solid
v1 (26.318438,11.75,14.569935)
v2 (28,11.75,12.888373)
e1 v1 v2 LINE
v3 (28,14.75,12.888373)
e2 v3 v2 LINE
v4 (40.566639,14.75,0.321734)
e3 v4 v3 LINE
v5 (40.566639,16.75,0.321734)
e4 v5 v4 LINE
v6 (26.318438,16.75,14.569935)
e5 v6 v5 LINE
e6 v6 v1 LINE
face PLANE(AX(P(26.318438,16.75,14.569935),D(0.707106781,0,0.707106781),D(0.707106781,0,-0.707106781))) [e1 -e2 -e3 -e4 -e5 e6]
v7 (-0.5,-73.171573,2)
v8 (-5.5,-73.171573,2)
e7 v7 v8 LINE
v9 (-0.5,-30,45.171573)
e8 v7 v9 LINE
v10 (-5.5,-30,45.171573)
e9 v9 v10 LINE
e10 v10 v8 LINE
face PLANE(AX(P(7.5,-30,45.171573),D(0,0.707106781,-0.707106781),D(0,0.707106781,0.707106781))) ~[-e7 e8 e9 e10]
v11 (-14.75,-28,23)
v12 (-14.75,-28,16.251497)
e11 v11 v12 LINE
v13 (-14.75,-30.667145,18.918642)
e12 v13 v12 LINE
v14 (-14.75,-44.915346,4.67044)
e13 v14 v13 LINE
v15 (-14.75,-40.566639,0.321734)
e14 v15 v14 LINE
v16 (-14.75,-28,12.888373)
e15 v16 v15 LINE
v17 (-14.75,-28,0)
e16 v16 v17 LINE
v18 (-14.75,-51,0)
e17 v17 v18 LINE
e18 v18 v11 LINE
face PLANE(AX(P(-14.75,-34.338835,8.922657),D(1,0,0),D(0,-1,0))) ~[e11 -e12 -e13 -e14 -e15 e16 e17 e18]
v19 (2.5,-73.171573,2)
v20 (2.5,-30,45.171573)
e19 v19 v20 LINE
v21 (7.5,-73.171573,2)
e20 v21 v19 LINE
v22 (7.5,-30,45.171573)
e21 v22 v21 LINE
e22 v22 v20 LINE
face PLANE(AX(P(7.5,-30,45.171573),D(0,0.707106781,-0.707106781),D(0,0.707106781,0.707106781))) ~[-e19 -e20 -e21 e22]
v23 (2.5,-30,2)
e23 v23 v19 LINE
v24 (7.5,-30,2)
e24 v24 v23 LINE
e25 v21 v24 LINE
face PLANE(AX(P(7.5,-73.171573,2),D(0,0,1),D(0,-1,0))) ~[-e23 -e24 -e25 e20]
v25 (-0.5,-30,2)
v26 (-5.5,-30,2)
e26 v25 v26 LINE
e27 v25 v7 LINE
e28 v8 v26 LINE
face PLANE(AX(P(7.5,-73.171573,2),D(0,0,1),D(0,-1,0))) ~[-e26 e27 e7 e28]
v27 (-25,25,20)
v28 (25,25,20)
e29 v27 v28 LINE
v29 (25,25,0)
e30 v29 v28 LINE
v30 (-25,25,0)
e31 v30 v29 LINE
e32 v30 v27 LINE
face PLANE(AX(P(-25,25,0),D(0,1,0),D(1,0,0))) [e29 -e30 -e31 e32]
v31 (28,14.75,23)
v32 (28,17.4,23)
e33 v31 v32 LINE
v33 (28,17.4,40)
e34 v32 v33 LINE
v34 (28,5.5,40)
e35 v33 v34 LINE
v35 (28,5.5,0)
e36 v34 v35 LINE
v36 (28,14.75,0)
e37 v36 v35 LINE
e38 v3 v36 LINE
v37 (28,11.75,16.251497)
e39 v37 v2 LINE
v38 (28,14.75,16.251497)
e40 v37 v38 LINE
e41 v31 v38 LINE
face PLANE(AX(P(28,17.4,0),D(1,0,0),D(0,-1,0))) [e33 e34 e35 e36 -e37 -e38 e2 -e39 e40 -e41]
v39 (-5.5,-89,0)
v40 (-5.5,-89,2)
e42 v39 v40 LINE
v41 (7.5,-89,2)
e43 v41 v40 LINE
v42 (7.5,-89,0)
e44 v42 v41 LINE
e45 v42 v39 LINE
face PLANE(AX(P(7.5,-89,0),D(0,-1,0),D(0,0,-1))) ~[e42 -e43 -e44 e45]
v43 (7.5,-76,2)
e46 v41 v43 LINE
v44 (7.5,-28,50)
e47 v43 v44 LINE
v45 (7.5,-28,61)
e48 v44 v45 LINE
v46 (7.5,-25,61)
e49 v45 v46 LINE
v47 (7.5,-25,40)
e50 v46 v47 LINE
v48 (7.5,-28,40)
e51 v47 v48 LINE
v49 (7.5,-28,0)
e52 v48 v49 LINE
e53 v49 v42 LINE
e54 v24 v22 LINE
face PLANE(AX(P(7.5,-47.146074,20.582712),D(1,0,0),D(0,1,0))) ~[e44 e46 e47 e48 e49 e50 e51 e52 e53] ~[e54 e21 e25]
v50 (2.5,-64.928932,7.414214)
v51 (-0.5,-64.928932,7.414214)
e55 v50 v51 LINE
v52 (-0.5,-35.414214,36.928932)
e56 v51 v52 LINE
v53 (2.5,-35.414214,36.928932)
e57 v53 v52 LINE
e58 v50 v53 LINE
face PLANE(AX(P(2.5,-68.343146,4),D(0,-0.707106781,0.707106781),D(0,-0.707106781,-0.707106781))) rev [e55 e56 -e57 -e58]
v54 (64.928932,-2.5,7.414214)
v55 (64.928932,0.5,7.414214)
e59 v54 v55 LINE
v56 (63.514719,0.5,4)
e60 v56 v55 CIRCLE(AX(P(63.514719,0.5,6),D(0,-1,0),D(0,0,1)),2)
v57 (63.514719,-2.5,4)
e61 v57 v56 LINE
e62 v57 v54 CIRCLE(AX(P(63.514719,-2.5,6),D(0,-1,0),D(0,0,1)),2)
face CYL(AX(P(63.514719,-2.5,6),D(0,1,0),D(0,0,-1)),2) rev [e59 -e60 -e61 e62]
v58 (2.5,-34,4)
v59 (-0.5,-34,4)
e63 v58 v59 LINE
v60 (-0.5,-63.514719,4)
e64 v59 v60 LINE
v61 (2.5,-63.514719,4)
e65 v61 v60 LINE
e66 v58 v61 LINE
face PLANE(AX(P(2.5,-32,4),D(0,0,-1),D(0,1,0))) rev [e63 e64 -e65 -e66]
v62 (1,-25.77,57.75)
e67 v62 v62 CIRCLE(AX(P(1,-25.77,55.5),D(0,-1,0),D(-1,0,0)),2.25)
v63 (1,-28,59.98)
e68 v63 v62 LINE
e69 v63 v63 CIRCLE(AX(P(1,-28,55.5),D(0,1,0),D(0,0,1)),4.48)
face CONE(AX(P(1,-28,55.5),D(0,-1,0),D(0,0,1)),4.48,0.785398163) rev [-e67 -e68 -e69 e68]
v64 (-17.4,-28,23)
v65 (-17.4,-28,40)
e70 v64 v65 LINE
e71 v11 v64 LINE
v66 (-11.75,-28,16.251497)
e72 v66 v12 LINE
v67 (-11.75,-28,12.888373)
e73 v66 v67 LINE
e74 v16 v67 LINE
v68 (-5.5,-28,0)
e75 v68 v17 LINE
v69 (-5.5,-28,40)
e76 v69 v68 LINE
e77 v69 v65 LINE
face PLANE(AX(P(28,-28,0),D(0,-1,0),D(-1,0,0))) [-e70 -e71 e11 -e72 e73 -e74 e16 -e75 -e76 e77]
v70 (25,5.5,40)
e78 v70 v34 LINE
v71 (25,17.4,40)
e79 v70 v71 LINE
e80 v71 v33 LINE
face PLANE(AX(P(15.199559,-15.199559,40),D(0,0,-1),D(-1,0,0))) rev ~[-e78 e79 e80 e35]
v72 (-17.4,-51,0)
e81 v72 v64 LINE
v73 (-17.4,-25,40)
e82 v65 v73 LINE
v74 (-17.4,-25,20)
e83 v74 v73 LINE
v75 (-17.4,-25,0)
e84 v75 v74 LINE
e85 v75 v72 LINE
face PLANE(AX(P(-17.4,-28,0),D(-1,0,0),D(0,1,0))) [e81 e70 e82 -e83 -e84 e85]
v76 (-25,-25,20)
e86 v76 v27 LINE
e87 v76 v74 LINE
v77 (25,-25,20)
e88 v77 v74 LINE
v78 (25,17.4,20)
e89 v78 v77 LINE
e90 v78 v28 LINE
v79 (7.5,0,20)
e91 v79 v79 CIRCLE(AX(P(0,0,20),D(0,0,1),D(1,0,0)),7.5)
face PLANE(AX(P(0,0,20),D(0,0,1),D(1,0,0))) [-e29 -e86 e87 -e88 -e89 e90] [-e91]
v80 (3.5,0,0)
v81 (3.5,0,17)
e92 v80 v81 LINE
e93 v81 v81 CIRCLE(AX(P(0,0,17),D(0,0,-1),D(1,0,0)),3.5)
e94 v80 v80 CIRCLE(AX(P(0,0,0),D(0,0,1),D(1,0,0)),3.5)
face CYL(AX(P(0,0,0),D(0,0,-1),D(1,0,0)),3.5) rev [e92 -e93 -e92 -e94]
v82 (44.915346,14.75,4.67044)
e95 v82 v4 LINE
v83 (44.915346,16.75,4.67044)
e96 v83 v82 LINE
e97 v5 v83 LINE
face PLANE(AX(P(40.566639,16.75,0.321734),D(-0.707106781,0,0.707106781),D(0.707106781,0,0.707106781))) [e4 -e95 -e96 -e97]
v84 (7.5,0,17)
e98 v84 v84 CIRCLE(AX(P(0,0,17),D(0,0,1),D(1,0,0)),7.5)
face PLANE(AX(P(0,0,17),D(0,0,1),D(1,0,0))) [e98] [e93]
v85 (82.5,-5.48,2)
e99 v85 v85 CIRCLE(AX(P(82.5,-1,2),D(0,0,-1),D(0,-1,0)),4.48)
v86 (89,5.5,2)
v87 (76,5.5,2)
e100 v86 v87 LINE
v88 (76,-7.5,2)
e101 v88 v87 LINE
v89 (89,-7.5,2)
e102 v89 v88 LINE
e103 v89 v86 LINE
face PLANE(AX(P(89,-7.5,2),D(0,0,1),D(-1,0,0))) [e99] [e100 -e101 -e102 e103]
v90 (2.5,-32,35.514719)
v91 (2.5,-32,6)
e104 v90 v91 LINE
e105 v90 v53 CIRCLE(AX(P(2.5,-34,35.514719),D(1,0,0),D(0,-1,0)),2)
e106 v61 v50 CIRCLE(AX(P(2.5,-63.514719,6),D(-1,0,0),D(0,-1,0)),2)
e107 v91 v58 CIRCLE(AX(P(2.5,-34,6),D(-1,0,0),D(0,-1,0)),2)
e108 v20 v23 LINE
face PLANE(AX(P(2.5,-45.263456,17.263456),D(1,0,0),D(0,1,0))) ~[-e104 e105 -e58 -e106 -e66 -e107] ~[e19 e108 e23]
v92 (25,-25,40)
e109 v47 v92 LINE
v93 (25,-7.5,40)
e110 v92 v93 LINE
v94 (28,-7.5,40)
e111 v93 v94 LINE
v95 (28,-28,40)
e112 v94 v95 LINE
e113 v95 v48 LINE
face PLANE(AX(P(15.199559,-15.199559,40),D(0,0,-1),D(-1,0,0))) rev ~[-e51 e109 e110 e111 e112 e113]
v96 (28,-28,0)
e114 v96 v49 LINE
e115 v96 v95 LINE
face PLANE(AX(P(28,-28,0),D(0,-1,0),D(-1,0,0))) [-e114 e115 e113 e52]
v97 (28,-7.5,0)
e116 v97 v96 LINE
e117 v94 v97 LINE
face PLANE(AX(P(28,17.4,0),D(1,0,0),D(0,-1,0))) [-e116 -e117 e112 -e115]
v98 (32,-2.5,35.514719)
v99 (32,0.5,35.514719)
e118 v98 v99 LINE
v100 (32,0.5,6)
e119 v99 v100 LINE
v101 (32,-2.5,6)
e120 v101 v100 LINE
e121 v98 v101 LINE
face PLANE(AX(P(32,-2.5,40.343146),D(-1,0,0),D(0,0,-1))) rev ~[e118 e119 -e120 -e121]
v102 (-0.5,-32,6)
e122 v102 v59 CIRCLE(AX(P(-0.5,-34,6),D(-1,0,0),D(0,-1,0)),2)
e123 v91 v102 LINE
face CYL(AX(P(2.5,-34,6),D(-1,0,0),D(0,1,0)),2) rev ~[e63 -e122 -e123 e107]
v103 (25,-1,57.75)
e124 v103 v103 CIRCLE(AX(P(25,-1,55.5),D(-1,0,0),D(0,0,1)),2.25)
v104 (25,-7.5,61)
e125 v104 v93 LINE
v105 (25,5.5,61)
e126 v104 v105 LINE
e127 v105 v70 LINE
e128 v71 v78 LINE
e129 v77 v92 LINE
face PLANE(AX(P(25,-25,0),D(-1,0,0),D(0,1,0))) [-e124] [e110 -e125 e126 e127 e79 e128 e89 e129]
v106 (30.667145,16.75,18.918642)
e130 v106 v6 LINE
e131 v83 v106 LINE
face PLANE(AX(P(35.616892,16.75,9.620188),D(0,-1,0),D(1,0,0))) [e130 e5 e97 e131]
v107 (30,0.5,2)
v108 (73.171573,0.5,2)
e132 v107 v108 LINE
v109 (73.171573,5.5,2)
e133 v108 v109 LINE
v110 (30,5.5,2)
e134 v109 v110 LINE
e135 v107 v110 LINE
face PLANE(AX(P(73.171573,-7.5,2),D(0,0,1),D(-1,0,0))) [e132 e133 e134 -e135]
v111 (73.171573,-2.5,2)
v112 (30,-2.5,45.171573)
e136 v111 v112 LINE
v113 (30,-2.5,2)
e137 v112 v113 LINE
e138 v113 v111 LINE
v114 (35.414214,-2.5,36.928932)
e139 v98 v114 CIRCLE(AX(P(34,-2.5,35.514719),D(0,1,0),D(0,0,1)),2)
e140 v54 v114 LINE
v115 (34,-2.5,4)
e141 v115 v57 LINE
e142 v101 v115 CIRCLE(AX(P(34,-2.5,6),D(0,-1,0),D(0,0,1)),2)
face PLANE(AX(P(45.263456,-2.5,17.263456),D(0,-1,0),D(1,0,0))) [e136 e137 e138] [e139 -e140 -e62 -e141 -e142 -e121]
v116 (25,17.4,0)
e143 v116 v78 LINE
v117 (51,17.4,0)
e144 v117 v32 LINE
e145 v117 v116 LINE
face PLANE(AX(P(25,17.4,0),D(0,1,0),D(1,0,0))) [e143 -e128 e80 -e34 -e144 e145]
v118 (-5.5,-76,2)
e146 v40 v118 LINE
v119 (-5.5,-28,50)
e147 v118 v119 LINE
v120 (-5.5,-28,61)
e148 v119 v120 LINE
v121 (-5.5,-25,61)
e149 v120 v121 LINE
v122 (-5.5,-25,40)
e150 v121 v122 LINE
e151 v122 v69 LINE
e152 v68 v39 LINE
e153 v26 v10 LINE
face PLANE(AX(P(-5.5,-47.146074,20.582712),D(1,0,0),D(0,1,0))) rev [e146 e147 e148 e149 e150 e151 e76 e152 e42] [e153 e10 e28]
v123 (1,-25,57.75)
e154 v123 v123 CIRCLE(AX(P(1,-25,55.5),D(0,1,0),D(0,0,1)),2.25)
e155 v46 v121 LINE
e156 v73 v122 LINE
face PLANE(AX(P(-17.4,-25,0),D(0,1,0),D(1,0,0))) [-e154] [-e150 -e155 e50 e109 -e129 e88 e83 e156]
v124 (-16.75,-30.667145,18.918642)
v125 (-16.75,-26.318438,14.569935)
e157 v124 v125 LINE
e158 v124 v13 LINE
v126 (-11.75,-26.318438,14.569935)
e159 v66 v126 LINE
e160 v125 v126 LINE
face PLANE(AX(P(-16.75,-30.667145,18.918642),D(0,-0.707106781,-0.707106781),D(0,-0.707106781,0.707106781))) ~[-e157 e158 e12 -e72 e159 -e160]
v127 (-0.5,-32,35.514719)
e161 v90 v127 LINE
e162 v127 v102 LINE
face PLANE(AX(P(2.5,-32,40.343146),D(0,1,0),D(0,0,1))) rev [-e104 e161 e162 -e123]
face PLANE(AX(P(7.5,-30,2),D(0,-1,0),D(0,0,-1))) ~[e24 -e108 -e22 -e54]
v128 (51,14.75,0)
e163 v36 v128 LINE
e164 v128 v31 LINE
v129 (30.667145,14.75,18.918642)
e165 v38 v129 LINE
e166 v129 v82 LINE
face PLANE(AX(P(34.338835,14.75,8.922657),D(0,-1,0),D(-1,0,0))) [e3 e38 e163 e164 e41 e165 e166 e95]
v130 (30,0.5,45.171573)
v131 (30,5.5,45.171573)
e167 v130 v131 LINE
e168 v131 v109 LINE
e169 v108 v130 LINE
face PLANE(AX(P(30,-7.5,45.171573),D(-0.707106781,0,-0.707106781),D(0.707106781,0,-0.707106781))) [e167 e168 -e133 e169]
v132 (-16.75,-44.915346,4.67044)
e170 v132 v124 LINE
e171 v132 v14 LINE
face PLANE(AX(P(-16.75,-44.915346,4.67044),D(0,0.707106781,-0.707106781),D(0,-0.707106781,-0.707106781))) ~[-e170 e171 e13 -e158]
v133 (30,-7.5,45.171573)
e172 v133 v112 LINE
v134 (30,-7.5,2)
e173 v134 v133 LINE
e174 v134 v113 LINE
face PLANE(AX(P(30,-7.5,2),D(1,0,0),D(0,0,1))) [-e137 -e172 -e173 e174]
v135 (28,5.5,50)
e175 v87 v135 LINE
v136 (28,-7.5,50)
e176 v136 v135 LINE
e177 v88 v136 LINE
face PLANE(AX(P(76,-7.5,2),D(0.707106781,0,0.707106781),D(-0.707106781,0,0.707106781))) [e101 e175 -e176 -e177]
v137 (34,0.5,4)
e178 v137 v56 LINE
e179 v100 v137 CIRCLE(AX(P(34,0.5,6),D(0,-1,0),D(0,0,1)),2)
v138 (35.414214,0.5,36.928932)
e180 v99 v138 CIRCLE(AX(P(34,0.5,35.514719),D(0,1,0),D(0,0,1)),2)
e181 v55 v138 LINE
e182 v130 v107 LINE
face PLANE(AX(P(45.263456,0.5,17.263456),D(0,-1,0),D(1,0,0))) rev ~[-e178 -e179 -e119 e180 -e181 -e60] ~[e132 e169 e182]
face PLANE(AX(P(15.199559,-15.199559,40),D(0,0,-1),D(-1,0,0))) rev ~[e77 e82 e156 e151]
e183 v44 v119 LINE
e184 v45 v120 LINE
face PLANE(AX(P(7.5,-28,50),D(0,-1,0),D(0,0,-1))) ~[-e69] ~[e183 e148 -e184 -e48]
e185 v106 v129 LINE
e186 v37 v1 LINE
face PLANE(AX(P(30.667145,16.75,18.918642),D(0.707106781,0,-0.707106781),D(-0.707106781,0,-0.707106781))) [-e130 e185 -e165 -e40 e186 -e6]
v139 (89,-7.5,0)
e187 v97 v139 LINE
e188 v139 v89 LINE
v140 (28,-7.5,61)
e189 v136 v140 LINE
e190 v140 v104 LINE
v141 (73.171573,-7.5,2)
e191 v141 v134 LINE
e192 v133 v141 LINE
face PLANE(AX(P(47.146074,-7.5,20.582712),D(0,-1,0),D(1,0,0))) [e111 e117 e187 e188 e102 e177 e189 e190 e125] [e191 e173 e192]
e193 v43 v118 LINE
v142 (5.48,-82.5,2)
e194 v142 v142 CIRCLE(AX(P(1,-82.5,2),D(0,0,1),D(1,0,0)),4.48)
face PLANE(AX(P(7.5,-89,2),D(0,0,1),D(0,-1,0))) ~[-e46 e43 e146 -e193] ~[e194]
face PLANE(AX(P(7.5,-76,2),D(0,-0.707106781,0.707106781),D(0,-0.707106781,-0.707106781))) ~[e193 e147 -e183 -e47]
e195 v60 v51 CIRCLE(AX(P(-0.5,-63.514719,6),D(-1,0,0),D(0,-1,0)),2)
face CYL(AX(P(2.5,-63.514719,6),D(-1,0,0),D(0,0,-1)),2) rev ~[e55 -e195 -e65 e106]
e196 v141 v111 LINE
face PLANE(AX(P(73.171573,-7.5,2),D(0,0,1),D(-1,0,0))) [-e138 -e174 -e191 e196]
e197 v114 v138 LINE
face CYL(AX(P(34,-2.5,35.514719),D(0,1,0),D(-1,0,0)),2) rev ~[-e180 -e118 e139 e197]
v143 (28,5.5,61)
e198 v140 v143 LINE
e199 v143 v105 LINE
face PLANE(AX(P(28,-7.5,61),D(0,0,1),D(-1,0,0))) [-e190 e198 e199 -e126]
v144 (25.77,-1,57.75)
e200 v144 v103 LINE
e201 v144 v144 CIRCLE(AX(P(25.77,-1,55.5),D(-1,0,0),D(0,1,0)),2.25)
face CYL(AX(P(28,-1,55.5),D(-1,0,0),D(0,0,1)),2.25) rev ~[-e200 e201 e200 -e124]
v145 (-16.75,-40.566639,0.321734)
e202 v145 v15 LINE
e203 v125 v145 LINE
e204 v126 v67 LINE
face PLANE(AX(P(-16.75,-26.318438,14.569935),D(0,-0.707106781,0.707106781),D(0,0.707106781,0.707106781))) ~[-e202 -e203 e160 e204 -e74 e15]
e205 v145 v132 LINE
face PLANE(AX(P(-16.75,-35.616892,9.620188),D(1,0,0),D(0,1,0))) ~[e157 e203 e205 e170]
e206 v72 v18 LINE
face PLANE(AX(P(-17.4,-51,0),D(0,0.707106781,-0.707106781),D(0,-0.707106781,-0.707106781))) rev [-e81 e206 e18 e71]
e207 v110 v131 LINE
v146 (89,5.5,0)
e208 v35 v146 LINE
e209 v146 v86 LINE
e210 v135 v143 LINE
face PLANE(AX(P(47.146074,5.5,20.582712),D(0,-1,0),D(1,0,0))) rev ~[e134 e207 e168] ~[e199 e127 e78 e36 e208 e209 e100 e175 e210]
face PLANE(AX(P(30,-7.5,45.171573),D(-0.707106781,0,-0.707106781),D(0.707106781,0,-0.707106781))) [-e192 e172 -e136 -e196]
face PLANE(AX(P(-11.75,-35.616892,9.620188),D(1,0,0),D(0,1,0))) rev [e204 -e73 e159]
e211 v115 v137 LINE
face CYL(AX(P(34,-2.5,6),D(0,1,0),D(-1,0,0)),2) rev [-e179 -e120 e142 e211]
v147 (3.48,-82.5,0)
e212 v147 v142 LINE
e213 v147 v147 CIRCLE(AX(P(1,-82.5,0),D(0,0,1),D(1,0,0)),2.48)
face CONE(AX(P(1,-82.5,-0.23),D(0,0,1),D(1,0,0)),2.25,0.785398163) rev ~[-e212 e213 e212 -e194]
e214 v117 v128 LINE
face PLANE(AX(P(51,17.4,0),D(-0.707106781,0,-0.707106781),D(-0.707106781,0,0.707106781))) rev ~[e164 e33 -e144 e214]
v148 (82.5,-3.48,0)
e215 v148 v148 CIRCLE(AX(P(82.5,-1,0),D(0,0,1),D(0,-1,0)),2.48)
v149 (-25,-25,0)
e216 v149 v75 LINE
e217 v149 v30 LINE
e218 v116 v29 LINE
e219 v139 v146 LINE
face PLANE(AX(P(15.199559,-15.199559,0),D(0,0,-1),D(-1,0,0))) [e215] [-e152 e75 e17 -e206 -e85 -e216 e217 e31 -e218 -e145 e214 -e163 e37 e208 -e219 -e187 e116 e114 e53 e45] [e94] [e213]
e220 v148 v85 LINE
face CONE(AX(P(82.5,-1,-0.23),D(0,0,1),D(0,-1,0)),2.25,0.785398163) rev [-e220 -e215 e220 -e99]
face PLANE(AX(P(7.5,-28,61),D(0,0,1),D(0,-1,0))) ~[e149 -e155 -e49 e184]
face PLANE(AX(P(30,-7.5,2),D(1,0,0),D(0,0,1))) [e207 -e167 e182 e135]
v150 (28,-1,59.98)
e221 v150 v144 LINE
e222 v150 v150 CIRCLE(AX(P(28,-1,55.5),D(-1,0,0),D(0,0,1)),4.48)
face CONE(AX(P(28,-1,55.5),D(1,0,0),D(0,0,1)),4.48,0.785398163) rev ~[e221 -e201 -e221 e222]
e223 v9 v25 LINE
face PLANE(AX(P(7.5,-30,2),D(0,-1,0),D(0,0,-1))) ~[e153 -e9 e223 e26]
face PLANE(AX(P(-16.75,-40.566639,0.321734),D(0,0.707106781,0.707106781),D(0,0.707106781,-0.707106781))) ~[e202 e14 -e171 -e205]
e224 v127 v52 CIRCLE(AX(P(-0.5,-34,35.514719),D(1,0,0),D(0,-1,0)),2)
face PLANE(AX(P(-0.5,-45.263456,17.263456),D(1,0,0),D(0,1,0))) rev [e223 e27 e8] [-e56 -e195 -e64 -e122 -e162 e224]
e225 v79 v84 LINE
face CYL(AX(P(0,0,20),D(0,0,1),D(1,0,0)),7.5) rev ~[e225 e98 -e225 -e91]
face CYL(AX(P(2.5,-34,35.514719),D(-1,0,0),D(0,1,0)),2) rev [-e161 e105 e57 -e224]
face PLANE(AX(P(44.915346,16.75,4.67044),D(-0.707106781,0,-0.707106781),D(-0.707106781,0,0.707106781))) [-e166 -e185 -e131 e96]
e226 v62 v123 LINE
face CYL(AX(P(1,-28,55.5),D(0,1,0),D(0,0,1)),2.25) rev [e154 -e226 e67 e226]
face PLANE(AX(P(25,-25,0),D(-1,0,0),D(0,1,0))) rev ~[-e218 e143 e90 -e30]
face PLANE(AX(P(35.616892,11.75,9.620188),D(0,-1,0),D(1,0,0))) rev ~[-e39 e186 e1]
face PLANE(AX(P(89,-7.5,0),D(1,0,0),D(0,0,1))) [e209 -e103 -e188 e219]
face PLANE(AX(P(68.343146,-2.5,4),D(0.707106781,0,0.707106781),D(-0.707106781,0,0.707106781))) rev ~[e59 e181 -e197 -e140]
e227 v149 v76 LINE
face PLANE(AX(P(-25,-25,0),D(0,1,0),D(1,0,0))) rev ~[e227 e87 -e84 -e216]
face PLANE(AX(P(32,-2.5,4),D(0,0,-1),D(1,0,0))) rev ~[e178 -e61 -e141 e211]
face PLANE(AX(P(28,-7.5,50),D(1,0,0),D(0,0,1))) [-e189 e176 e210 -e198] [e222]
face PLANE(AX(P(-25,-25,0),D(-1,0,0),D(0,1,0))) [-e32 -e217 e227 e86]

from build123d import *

# Parameters (mm, degrees)
CROQUIS2_W                                           = 50
CROQUIS2_H                                           = 50
CROQUIS2_R                                           = 3.5
SALIENTE_EXTRUIR2_DEPTH                              = 20
CROQUIS3_R                                           = 7.5
CORTAR_EXTRUIR1_DEPTH                                = 3
SALIENTE_EXTRUIR3_DEPTH                              = 40
SALIENTE_EXTRUIR4_DEPTH                              = 2.65
CORTAR_EXTRUIR2_START                                = -2
CORTAR_EXTRUIR2_DEPTH                                = 5
SALIENTE_EXTRUIR5_START                              = -20.5
SALIENTE_EXTRUIR5_DEPTH                              = 13
SALIENTE_EXTRUIR6_START                              = -5
SALIENTE_EXTRUIR6_DEPTH                              = 3
REDONDEO1_R                                          = 2
CROQUIS12_R                                          = 2
CORTAR_EXTRUIR4_DEPTH                                = 2
CROQUIS13_R                                          = 2
CORTAR_EXTRUIR5_DEPTH                                = 3
REFRENTADO_PARA_TORNILLO_TAP_N_CON_CABEZ_D           = 4.5
REFRENTADO_PARA_TORNILLO_TAP_N_CON_CABEZ_CSINK_D     = 8.96
REFRENTADO_PARA_TORNILLO_TAP_N_CON_CABEZ_CSINK_ANGLE = 90
REDONDEO1_OF_SIMETR_A4_R                             = 2


with BuildPart() as part:
    # Croquis2 → Saliente-Extruir2 (new body)
    with BuildSketch(Plane.XY):
        Rectangle(CROQUIS2_W, CROQUIS2_H)
        Circle(CROQUIS2_R, mode=Mode.SUBTRACT)
    extrude(amount=SALIENTE_EXTRUIR2_DEPTH)

    # Croquis3 → Cortar-Extruir1 (cut)
    with BuildSketch(Plane.XY.offset(20)):
        Circle(CROQUIS3_R)
    extrude(amount=-CORTAR_EXTRUIR1_DEPTH, mode=Mode.SUBTRACT)

    # Croquis4 → Saliente-Extruir3 (add)
    with BuildSketch(Plane(origin=(0, 0, 0), x_dir=(-1, 0, 0), z_dir=(0, 0, -1))):
        Polygon((-25, -25), (-25, 17.4), (-28, 17.4), (-28, -28), (17.4, -28), (17.4, -25), align=None)
    extrude(amount=-SALIENTE_EXTRUIR3_DEPTH)

    # Croquis5 → Saliente-Extruir4 (add)
    with BuildSketch(Plane(origin=(0, 17.4, 0), x_dir=(1, 0, 0), z_dir=(0, 1, 0))):
        Polygon((25, 0), (51, 0), (26, -25), (25, -25), align=None)
    saliente_extruir4 = extrude(amount=-SALIENTE_EXTRUIR4_DEPTH)

    # Croquis6 → Cortar-Extruir2 (cut)
    with BuildSketch(Plane.XZ.offset(-14.75).offset(CORTAR_EXTRUIR2_START)):
        Polygon((44.915346148, 4.67044029), (30.667144507, 18.918641931), (26.318437803, 14.569935226), (40.566639444, 0.321733585), align=None)
    cortar_extruir2 = extrude(amount=CORTAR_EXTRUIR2_DEPTH, mode=Mode.SUBTRACT)

    # Simetría2: Saliente-Extruir4, Cortar-Extruir2 across plane
    add(saliente_extruir4.mirror(Plane(origin=(0, 0, 0), x_dir=(0, 0, 1), z_dir=(0.707106781, 0.707106781, 0))))
    add(cortar_extruir2.mirror(Plane(origin=(0, 0, 0), x_dir=(0, 0, 1), z_dir=(0.707106781, 0.707106781, 0))), mode=Mode.SUBTRACT)

    # Croquis10 → Saliente-Extruir5 (add)
    with BuildSketch(Plane.XZ.offset(28).offset(SALIENTE_EXTRUIR5_START)):
        Polygon((28, 0), (78, 0), (89, 0), (89, 2), (76, 2), (28, 50), (28, 61), (25, 61), (25, 40), (28, 40), align=None)
        Polygon((30, 45.171572875), (73.171572875, 2), (30, 2), align=None, mode=Mode.SUBTRACT)
    saliente_extruir5 = extrude(amount=-SALIENTE_EXTRUIR5_DEPTH)

    # Croquis11 → Saliente-Extruir6 (add)
    with BuildSketch(Plane.XZ.offset(7.5).offset(SALIENTE_EXTRUIR6_START)):
        Polygon((30, 45.171572875), (30, 2), (73.171572875, 2), align=None)
        Polygon((32, 40.343145751), (32, 4), (68.343145751, 4), align=None, mode=Mode.SUBTRACT)
    saliente_extruir6 = extrude(amount=-SALIENTE_EXTRUIR6_DEPTH)

    # Redondeo1
    redondeo1_edges = [part.edges().sort_by_distance(p)[0] for p in [
        (68.343145751, -1, 4),
        (32, -1, 4),
        (32, -1, 40.343145751),
    ]]
    fillet(redondeo1_edges, radius=REDONDEO1_R)

    # Croquis12 → Cortar-Extruir4 (cut)
    with BuildSketch(Plane.XY.offset(2)):
        with Locations((82.5, -1)):
            Circle(CROQUIS12_R)
    cortar_extruir4 = extrude(amount=-CORTAR_EXTRUIR4_DEPTH, mode=Mode.SUBTRACT)

    # Croquis13 → Cortar-Extruir5 (cut)
    with BuildSketch(Plane(origin=(28, 0, 0), x_dir=(0, 0, -1), z_dir=(1, 0, 0))):
        with Locations((-55.5, -1)):
            Circle(CROQUIS13_R)
    cortar_extruir5 = extrude(amount=-CORTAR_EXTRUIR5_DEPTH, mode=Mode.SUBTRACT)

    # Refrentado para tornillo tap_n con cabez (through all)
    with Locations(Plane(origin=(28, 0, 0), x_dir=(0, 0, -1), z_dir=(1, 0, 0))):
        with Locations((-55.5, -1)):
            refrentado_para_tornillo_tap_n_con_cabez = CounterSinkHole(REFRENTADO_PARA_TORNILLO_TAP_N_CON_CABEZ_D / 2, REFRENTADO_PARA_TORNILLO_TAP_N_CON_CABEZ_CSINK_D / 2, counter_sink_angle=REFRENTADO_PARA_TORNILLO_TAP_N_CON_CABEZ_CSINK_ANGLE)

    # Croquis17 → Refrentado para tornillo tap_n con c 2 (revolve, cut)
    with BuildSketch(Plane(origin=(82.5, -1, 2), x_dir=(0, -1, 0), z_dir=(1, 0, 0))):
        Polygon((0, 0), (0, 2), (2.25, 2), (2.25, 2.23), (4.48, 0), align=None)
    refrentado_para_tornillo_tap_n_con_c_2 = revolve(axis=Axis((82.5, -1, 8.35), (0, 0, -1)), mode=Mode.SUBTRACT)

    # Simetría4: Saliente-Extruir5, Saliente-Extruir6, Cortar-Extruir4, Cortar-Extruir5, Refrentado para tornillo tap_n con cabez, Refrentado para tornillo tap_n con c 2 across plane
    add(saliente_extruir5.mirror(Plane(origin=(0, 0, 0), x_dir=(0, 0, 1), z_dir=(0.707106781, 0.707106781, 0))))
    add(saliente_extruir6.mirror(Plane(origin=(0, 0, 0), x_dir=(0, 0, 1), z_dir=(0.707106781, 0.707106781, 0))))
    add(cortar_extruir4.mirror(Plane(origin=(0, 0, 0), x_dir=(0, 0, 1), z_dir=(0.707106781, 0.707106781, 0))), mode=Mode.SUBTRACT)
    add(cortar_extruir5.mirror(Plane(origin=(0, 0, 0), x_dir=(0, 0, 1), z_dir=(0.707106781, 0.707106781, 0))), mode=Mode.SUBTRACT)
    add(refrentado_para_tornillo_tap_n_con_cabez.mirror(Plane(origin=(0, 0, 0), x_dir=(0, 0, 1), z_dir=(0.707106781, 0.707106781, 0))), mode=Mode.SUBTRACT)
    add(refrentado_para_tornillo_tap_n_con_c_2.mirror(Plane(origin=(0, 0, 0), x_dir=(0, 0, 1), z_dir=(0.707106781, 0.707106781, 0))), mode=Mode.SUBTRACT)

    # Redondeo1 of Simetría4
    redondeo1_of_simetr_a4_edges = [part.edges().sort_by_distance(p)[0] for p in [
        (1, -68.343145751, 4),
        (1, -32, 4),
        (1, -32, 40.343145751),
    ]]
    fillet(redondeo1_of_simetr_a4_edges, radius=REDONDEO1_OF_SIMETR_A4_R)


solid = part.part
